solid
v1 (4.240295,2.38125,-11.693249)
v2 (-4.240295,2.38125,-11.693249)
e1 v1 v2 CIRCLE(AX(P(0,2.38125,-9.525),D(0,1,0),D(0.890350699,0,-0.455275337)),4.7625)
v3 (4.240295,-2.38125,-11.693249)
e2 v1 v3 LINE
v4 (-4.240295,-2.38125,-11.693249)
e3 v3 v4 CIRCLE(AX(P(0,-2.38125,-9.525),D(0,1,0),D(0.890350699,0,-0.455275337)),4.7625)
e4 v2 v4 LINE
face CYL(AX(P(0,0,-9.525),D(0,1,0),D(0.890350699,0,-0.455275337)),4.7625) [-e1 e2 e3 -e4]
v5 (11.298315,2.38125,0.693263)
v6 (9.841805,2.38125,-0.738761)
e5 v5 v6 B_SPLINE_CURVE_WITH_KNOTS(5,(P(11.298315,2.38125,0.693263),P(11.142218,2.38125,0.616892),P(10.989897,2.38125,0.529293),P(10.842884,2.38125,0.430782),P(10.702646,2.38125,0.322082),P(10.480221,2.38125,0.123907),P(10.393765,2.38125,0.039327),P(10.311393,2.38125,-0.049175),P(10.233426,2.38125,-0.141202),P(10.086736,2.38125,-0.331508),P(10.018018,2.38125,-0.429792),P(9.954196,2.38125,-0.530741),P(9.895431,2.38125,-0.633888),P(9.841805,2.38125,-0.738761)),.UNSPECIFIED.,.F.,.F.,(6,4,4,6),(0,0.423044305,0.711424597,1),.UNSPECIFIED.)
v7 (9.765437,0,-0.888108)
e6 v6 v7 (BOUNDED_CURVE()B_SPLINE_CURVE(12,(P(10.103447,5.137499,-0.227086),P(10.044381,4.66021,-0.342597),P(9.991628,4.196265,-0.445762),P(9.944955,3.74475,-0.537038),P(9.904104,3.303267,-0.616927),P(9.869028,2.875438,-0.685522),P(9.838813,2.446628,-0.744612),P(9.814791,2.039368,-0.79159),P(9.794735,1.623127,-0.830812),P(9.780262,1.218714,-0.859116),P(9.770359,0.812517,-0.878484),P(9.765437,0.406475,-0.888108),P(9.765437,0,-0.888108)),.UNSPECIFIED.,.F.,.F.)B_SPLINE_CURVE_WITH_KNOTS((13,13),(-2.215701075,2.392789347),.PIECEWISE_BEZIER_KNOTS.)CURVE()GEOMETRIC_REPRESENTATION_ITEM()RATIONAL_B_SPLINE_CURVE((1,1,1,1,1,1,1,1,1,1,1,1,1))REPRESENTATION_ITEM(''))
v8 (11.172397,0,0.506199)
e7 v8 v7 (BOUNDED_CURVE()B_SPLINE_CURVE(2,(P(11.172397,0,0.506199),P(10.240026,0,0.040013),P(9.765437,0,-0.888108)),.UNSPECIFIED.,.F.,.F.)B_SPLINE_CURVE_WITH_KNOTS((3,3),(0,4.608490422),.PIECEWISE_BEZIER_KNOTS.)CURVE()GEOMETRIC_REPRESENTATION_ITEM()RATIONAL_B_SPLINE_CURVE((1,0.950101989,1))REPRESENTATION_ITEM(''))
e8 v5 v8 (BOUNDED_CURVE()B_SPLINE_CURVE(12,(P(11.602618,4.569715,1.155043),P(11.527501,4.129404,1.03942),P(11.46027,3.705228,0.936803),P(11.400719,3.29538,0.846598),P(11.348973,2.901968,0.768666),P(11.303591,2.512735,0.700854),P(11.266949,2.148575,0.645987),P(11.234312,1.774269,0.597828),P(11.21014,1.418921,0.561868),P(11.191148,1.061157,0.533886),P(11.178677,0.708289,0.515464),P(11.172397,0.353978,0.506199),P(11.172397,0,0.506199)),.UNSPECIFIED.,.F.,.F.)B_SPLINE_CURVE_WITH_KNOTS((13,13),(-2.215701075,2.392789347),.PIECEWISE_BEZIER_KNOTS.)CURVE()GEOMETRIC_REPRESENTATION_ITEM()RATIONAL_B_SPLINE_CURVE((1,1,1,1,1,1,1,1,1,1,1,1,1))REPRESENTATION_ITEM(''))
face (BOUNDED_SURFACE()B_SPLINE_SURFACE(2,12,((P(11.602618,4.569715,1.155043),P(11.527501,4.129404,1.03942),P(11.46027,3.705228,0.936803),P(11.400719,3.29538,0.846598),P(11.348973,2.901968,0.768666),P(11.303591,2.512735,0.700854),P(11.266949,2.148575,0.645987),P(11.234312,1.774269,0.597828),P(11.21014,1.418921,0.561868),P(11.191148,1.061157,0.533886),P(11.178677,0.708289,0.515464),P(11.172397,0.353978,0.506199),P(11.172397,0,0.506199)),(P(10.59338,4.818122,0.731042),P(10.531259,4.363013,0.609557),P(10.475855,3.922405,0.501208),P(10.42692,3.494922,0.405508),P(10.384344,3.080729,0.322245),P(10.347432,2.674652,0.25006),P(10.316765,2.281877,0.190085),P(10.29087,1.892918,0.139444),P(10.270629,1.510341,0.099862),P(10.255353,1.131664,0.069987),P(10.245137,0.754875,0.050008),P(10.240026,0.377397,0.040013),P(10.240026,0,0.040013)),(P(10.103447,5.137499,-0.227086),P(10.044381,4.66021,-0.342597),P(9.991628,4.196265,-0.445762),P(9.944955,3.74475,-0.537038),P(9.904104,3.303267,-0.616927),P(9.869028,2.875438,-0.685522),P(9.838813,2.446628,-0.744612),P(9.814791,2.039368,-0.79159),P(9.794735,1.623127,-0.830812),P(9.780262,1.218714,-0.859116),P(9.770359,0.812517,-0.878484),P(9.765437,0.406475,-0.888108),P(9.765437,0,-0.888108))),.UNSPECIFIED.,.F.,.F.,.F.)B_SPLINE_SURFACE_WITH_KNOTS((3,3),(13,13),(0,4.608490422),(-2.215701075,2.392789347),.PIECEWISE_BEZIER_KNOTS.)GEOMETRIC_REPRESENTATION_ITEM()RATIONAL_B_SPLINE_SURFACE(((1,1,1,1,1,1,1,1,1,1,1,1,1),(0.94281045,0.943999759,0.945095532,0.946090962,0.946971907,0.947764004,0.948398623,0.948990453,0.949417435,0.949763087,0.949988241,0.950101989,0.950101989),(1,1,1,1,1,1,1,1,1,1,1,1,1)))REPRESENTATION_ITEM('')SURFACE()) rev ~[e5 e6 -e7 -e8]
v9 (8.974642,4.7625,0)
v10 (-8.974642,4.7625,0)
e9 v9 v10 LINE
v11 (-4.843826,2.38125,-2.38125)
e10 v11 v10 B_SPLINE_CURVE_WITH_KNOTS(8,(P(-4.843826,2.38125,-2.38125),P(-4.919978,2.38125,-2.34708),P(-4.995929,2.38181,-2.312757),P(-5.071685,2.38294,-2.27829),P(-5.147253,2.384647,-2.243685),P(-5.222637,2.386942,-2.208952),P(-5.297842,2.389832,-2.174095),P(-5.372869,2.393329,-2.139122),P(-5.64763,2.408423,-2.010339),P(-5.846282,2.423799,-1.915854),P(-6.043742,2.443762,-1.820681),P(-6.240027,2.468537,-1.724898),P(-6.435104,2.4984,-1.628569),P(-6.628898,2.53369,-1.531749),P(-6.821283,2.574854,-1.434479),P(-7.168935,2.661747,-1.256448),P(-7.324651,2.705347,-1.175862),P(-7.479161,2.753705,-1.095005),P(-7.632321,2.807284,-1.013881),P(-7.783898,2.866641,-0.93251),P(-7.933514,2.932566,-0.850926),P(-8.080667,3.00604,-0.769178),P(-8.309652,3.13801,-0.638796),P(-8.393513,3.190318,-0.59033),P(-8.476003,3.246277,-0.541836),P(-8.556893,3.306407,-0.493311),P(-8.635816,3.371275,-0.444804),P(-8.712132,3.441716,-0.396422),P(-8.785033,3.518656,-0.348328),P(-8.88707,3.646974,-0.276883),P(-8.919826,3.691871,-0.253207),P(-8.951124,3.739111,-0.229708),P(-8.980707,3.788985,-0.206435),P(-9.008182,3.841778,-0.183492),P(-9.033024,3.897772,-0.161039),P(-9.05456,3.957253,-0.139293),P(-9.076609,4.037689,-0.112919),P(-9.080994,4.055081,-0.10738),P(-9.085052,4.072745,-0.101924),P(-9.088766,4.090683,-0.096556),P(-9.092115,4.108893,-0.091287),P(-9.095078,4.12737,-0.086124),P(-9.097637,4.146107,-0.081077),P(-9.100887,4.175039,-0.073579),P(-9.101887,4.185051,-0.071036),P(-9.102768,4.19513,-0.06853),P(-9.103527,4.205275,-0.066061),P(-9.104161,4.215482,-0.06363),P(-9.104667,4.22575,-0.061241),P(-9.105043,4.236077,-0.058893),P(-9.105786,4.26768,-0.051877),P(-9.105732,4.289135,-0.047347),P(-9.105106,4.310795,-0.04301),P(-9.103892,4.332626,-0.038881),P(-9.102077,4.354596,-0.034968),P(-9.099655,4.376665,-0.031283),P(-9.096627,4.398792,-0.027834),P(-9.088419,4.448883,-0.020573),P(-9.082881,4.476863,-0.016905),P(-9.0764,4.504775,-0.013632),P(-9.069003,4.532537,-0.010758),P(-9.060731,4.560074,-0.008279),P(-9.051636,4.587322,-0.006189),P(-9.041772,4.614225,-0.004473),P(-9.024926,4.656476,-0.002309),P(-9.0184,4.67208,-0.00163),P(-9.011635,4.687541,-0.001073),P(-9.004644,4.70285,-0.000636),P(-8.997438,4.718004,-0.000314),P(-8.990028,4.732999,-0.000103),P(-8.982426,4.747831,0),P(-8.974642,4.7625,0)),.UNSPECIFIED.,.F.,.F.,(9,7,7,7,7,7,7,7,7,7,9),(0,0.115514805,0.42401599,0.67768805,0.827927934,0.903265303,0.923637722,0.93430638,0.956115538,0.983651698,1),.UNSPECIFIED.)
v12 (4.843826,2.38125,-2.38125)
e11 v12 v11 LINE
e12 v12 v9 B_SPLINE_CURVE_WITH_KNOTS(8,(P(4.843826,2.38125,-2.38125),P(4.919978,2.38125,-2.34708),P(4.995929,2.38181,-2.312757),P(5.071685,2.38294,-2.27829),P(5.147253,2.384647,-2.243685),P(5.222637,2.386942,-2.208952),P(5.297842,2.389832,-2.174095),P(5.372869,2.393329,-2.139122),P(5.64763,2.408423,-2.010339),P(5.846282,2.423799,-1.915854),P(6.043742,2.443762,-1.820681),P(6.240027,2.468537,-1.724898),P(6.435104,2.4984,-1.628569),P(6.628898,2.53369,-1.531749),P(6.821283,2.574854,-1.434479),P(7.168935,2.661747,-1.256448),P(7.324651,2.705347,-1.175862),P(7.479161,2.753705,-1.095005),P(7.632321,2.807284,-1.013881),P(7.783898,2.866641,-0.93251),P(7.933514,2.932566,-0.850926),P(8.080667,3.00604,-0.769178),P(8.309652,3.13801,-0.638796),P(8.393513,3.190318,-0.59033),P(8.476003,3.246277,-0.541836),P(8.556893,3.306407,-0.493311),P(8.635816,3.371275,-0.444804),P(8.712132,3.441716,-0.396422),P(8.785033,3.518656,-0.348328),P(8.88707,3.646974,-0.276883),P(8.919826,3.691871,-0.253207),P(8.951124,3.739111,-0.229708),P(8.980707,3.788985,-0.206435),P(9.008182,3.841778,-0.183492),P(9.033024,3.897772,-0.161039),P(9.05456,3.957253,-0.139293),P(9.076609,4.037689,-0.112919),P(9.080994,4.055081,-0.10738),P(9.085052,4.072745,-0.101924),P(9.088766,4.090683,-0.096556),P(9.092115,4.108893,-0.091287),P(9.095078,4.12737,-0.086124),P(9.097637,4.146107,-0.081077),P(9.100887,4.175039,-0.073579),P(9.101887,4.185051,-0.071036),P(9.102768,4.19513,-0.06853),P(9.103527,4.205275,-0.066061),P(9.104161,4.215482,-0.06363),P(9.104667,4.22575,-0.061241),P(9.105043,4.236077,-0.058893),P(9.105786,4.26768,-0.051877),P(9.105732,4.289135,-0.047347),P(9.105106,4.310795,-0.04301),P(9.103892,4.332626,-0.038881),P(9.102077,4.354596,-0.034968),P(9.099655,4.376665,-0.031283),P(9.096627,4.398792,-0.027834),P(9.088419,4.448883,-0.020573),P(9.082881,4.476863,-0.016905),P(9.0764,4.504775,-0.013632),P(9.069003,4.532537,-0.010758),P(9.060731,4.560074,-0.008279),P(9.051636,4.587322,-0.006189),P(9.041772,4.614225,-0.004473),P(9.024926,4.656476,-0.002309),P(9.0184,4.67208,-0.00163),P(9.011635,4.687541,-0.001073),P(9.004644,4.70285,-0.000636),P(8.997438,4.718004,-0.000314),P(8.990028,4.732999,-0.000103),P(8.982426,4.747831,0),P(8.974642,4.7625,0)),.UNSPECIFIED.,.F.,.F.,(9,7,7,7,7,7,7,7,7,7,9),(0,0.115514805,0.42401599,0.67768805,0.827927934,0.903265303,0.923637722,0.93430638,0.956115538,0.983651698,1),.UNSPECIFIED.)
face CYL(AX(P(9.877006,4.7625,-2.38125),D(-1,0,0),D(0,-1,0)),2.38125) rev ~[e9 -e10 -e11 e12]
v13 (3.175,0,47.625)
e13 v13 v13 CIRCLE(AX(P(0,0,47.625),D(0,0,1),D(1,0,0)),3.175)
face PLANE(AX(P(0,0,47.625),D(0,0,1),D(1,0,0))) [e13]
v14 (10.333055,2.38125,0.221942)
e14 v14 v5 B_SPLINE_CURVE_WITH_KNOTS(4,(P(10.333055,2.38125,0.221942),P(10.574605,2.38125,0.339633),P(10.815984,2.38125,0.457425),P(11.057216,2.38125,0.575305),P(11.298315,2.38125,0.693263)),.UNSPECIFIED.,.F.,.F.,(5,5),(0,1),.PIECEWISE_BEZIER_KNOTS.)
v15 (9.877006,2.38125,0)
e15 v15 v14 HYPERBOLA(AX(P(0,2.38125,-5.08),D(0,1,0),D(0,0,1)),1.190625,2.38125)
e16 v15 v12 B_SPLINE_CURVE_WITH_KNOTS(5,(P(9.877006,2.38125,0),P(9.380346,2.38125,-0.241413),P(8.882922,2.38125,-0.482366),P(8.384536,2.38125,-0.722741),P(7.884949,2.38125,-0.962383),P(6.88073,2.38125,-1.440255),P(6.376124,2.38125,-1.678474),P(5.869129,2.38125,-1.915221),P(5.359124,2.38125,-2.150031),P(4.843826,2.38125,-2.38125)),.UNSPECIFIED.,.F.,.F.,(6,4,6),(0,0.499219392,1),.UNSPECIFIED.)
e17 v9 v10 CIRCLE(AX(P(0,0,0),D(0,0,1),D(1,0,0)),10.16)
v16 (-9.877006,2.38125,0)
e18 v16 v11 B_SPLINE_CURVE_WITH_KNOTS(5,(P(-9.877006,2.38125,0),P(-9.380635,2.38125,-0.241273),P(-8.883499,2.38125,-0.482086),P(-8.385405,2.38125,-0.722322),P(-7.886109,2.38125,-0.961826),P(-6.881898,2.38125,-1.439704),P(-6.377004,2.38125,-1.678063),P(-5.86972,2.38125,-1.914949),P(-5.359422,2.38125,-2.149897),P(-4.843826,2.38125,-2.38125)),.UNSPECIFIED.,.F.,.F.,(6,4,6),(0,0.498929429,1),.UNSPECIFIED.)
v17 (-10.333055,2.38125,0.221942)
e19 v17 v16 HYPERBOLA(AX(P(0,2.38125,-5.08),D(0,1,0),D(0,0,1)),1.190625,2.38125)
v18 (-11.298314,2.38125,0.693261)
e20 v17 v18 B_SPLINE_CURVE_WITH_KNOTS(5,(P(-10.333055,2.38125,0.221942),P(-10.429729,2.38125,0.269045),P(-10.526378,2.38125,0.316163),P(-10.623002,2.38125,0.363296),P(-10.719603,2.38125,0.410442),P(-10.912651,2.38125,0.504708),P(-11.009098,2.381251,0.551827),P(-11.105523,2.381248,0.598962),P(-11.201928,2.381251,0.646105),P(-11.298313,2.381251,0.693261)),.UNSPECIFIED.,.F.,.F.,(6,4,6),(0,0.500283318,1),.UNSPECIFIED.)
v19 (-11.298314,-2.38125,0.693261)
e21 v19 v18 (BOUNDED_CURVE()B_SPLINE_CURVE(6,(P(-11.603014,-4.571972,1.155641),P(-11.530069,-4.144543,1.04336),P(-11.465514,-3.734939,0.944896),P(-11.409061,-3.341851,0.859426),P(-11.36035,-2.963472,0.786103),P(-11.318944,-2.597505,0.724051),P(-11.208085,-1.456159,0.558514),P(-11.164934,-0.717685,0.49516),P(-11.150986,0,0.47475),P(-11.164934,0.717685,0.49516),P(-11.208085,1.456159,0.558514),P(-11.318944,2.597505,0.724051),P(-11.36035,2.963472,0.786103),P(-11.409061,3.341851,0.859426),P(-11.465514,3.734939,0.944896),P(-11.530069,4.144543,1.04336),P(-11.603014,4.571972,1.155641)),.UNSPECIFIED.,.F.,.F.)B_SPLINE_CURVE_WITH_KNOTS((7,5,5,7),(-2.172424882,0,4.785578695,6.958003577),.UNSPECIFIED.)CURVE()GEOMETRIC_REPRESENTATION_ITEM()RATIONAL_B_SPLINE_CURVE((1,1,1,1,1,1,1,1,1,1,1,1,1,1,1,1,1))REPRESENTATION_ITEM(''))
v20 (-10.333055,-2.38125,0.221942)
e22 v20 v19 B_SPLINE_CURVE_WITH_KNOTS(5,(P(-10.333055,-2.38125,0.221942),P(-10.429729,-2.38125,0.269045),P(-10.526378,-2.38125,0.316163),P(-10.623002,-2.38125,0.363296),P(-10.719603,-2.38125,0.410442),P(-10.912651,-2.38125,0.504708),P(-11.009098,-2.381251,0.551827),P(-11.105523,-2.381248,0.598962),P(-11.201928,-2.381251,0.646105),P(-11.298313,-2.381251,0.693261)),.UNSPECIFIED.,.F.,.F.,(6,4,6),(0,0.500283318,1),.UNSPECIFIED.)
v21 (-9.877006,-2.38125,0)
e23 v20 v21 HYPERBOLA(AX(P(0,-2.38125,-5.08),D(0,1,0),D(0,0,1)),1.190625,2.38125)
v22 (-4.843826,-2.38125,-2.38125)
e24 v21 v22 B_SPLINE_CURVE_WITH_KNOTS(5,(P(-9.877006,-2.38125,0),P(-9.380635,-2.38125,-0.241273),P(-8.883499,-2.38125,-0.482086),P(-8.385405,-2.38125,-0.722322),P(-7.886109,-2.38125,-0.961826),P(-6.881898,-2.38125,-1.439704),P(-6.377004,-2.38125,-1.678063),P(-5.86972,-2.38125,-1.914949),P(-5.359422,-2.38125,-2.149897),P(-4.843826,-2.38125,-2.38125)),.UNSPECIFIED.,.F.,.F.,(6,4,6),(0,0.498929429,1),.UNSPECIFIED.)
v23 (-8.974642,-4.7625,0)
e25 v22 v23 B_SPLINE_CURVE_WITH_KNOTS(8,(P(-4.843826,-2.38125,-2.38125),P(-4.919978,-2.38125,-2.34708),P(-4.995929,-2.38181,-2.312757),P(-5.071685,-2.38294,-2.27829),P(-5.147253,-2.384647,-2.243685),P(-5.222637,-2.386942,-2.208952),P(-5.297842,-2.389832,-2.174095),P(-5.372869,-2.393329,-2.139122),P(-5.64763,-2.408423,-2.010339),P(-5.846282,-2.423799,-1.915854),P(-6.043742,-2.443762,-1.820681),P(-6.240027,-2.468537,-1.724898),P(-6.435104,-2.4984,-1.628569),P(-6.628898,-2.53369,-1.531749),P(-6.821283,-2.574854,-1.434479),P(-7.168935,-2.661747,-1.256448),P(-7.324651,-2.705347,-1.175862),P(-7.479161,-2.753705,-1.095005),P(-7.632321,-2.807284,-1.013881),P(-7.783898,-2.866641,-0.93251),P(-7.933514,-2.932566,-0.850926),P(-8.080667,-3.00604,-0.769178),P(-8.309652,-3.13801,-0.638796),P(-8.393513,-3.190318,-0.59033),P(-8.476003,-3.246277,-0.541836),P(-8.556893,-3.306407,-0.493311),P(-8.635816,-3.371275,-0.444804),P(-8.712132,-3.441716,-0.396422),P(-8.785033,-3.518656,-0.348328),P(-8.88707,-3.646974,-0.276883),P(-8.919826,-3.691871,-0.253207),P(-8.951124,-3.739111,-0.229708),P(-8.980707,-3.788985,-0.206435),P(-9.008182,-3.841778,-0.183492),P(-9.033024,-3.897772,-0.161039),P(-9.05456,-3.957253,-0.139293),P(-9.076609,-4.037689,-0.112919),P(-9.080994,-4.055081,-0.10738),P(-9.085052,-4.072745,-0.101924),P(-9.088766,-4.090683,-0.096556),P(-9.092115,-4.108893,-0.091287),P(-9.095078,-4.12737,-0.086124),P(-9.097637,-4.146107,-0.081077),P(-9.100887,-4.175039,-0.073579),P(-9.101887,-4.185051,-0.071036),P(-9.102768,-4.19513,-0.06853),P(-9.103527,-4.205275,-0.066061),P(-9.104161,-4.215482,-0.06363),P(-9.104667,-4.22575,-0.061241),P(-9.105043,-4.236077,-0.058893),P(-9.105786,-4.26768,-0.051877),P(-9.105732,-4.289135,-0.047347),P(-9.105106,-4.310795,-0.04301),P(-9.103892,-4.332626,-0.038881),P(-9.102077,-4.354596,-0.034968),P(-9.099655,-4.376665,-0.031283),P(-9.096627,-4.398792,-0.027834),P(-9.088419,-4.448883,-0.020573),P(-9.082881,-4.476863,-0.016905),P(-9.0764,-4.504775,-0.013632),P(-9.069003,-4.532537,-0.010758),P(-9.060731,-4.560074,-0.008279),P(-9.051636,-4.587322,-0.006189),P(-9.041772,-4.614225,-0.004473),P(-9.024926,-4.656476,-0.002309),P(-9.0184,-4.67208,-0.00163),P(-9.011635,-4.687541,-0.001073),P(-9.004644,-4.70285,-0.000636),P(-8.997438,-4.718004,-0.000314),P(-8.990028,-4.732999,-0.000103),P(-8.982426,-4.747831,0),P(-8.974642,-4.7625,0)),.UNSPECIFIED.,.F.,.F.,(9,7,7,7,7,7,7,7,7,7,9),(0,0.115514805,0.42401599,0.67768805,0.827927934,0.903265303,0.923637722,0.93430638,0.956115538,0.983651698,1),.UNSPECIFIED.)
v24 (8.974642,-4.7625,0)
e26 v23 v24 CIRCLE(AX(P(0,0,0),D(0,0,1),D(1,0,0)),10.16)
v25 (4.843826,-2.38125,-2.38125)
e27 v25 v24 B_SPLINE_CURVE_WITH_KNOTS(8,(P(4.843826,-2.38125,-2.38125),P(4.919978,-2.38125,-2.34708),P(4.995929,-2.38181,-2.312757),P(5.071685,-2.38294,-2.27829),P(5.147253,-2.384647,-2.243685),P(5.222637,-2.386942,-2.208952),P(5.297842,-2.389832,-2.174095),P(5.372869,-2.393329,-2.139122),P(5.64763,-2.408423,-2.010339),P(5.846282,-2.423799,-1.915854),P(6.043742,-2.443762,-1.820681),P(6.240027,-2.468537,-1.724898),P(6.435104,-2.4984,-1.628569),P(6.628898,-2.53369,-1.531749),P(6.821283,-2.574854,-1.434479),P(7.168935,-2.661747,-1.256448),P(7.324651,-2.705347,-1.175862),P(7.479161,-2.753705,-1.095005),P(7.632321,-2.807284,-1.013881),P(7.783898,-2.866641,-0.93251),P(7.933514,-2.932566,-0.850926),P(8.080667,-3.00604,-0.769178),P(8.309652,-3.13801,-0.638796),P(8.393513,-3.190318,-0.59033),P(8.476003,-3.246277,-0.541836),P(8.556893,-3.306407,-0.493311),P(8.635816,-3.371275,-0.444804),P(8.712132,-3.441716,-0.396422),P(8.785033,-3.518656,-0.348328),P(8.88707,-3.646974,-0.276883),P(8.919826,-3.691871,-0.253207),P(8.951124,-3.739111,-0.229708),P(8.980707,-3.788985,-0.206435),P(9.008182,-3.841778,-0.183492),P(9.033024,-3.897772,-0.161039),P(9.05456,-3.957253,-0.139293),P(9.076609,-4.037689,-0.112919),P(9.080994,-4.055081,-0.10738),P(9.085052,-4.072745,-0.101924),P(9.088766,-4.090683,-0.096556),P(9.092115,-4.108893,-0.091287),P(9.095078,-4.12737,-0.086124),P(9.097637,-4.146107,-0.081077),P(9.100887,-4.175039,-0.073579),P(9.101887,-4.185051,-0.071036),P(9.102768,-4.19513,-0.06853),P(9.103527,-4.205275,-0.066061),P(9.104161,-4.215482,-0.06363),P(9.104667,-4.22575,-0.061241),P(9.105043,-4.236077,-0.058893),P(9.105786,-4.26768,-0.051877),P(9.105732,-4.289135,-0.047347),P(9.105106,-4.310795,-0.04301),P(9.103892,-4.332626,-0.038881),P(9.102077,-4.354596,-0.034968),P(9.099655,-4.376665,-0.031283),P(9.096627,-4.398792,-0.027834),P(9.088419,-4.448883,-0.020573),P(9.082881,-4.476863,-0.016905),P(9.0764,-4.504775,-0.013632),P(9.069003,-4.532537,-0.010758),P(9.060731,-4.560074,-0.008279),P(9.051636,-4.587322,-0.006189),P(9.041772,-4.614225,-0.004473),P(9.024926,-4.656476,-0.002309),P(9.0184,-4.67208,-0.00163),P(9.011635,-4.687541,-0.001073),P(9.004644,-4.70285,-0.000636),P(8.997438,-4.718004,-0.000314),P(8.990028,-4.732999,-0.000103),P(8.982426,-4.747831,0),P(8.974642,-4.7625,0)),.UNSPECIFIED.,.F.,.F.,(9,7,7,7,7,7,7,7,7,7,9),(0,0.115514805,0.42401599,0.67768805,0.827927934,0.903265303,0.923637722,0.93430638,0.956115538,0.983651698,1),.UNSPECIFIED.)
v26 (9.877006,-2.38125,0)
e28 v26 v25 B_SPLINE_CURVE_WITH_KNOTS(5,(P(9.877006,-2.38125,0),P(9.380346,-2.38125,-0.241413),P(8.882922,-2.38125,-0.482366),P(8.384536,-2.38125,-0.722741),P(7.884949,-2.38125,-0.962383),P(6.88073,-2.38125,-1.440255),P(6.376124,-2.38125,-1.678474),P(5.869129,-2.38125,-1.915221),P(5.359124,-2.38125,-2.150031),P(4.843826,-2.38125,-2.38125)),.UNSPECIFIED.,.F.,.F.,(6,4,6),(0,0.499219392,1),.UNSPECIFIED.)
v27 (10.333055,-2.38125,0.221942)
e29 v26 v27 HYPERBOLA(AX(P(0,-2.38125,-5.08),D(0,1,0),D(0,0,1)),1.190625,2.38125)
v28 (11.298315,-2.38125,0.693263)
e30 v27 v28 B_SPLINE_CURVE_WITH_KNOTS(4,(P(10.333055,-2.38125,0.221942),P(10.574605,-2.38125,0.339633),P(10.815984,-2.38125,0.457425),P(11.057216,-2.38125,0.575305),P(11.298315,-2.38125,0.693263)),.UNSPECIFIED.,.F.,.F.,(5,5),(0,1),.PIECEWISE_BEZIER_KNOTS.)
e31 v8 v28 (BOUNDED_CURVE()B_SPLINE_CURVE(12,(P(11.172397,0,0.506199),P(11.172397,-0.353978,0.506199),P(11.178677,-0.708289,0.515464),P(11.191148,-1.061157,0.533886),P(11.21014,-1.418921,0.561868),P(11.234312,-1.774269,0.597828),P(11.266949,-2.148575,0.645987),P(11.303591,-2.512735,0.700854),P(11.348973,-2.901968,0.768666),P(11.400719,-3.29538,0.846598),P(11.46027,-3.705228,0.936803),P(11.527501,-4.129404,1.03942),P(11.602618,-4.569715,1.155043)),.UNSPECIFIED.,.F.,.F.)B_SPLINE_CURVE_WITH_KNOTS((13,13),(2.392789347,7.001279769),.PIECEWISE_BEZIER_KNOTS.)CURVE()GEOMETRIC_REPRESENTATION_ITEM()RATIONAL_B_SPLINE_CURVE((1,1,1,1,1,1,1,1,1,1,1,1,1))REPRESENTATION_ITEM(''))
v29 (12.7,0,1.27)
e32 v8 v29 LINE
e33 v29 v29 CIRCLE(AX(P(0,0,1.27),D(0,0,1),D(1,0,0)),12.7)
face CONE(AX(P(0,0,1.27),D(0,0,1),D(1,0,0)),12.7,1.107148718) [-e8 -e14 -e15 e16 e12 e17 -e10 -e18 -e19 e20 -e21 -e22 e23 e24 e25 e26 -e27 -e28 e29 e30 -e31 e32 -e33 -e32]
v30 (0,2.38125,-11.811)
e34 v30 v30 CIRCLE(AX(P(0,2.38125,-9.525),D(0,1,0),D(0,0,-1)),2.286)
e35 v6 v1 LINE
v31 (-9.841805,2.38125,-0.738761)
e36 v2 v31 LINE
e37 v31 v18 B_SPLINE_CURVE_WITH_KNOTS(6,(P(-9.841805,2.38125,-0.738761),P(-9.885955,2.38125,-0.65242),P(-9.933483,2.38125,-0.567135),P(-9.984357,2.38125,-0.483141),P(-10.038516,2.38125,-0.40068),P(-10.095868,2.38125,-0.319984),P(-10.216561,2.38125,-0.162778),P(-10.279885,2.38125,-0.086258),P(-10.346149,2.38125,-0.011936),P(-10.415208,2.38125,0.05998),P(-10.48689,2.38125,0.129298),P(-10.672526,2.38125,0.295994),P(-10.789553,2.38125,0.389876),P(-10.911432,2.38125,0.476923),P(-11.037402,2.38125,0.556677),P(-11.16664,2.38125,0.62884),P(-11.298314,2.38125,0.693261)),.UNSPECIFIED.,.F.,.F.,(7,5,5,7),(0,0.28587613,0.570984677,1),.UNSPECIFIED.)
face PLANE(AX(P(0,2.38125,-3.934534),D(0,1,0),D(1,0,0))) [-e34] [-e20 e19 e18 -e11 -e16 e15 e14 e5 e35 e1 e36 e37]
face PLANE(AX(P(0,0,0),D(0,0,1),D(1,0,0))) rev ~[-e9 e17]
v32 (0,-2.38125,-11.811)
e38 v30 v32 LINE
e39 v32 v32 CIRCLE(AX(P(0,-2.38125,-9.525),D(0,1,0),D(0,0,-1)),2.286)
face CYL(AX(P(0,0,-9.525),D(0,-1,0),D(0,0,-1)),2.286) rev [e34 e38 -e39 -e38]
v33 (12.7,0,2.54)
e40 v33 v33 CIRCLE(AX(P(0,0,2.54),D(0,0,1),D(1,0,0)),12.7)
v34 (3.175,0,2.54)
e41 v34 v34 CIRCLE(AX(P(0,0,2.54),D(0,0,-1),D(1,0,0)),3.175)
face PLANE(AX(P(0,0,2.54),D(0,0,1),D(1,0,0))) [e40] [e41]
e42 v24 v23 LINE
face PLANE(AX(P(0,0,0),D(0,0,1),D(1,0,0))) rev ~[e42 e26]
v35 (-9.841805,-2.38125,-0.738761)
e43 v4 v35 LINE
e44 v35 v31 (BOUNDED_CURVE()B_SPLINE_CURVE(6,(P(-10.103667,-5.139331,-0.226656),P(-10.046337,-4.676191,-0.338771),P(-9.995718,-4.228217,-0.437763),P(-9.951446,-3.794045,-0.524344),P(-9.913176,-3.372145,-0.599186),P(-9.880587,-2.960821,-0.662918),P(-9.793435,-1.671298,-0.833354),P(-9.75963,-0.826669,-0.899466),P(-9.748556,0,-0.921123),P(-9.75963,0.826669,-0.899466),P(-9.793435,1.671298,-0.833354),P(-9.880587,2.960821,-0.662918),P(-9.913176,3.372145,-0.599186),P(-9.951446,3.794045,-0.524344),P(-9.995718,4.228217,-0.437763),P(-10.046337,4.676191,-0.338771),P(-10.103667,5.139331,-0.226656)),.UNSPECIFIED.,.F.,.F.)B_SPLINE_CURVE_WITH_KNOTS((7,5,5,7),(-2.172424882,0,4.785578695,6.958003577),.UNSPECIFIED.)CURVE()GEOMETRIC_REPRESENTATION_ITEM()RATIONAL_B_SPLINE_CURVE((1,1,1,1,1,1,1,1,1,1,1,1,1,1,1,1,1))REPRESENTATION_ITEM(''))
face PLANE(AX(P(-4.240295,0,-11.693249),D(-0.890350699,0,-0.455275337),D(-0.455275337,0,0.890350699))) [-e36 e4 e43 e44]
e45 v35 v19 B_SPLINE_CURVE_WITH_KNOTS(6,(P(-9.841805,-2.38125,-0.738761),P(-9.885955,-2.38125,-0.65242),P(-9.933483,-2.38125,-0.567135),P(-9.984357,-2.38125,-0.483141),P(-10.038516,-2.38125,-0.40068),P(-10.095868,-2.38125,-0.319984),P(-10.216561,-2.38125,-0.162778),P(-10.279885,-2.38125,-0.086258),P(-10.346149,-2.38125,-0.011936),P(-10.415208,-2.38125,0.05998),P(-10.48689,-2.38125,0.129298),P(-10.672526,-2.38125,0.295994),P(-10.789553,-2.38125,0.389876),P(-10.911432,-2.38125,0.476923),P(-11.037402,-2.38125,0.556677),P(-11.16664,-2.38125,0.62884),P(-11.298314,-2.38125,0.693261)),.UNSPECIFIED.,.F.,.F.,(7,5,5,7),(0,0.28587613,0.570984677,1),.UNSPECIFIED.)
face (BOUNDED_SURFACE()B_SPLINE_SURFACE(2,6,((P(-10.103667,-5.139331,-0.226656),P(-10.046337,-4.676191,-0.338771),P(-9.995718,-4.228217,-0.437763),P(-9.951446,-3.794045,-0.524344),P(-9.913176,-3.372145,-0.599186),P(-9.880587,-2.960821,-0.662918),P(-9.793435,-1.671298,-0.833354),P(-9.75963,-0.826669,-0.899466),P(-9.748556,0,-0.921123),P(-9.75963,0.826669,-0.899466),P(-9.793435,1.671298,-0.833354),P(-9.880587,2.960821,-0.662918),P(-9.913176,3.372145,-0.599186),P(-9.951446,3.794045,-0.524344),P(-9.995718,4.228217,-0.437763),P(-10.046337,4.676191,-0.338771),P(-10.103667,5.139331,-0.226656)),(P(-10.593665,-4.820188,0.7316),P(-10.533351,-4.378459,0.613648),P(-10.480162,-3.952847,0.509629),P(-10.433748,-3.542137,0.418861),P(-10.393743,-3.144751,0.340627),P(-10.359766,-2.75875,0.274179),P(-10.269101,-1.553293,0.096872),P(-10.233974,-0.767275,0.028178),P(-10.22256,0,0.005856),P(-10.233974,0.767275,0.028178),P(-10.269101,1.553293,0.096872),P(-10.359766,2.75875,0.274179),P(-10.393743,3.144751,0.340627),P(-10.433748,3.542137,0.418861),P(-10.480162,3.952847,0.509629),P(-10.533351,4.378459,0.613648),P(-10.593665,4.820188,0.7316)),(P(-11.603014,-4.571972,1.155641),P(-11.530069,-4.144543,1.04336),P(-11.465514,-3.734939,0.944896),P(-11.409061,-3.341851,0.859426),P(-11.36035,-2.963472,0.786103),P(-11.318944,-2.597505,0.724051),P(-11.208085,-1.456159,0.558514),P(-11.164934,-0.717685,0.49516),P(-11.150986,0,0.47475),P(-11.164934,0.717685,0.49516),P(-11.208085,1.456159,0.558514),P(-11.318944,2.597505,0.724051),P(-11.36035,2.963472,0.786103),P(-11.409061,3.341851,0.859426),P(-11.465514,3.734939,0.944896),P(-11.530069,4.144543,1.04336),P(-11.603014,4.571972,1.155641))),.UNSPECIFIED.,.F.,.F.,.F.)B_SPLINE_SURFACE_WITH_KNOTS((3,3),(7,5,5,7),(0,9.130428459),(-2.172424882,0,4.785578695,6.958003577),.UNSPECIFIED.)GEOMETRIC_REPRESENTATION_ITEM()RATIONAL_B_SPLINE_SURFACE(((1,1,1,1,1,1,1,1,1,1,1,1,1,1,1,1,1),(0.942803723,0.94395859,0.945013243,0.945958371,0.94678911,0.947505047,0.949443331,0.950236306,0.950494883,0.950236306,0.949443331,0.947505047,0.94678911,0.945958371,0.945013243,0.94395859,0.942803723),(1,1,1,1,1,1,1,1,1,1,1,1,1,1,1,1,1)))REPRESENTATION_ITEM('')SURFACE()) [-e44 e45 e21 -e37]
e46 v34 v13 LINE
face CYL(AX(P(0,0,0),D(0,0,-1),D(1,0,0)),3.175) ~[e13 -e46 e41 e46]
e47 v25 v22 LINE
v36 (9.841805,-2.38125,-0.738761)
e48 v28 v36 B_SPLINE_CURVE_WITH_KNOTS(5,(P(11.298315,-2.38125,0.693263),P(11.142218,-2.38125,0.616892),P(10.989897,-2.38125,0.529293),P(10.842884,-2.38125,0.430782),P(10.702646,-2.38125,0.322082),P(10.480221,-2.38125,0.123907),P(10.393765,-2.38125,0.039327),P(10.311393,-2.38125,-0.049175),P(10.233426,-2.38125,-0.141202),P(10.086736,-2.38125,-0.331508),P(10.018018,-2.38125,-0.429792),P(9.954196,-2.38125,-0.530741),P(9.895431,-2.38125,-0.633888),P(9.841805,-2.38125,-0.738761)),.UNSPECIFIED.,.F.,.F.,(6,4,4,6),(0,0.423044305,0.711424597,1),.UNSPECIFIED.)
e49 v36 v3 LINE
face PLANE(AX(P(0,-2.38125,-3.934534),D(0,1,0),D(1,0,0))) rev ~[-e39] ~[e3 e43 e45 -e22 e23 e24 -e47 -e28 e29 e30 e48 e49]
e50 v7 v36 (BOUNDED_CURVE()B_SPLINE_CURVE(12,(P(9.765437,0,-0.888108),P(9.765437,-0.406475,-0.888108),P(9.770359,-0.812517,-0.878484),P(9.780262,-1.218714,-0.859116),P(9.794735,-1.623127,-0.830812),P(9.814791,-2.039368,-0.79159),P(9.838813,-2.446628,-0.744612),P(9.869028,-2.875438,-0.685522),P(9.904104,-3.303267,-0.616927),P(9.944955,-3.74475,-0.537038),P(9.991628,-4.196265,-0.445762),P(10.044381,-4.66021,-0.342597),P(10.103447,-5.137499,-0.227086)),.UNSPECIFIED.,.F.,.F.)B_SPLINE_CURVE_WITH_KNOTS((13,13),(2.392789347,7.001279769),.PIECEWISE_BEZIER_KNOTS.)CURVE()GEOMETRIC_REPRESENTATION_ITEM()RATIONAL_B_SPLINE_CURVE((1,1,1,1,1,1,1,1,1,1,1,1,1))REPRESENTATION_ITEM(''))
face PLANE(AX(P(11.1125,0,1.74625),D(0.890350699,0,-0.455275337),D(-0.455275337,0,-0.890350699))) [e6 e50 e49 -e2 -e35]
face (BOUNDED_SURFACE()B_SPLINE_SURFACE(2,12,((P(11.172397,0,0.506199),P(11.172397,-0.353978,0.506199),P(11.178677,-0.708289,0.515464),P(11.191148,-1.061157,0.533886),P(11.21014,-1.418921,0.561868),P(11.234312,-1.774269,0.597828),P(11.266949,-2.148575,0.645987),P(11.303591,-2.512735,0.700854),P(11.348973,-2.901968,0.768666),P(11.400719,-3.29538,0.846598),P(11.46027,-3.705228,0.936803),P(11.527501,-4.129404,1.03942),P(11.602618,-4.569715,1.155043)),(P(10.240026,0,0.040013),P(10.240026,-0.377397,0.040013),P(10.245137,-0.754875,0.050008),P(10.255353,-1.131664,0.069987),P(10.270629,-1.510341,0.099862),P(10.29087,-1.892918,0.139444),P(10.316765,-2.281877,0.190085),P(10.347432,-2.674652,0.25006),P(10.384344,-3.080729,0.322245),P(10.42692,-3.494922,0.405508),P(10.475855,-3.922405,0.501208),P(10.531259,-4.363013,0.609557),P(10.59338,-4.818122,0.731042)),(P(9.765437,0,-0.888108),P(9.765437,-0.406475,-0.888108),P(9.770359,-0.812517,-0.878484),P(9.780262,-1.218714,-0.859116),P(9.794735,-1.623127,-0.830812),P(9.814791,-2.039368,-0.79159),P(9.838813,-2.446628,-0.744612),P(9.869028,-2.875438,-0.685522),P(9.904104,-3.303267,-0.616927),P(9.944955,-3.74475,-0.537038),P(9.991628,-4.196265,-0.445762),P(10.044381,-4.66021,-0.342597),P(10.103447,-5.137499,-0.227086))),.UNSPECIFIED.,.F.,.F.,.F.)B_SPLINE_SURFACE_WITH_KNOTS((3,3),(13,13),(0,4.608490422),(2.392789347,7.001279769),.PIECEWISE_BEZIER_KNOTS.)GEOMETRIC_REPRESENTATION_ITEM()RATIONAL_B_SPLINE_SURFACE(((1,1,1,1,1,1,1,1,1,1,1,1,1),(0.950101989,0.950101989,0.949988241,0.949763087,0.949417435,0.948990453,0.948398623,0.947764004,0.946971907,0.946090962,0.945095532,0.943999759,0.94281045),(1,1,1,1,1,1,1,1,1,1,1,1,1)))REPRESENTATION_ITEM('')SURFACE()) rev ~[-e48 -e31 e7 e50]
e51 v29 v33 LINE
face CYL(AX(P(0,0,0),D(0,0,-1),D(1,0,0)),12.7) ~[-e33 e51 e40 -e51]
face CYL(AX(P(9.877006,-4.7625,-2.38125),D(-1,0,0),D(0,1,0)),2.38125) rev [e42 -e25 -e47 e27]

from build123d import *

# Parameters (mm, degrees)
SKETCH1_R           = 12.7
SKETCH1_R_2         = 11.1125
SKETCH1_R_3         = 3.175
BOSS_EXTRUDE1_DEPTH = 2.54
SKETCH1_3_R         = 3.175
BOSS_EXTRUDE2_DEPTH = 47.625
CHAMFER1_SIZE       = 2.54
CHAMFER1_SIZE2      = 1.27
SKETCH2_R           = 2.286
BOSS_EXTRUDE3_DEPTH = 2.38125
FILLET1_R           = 3.175
FILLET2_R           = 2.38125


with BuildPart() as part:
    # Sketch1 → Boss-Extrude1 (new body)
    # profile 1 of 3: a face of its own
    with BuildSketch(Plane.XY):
        Circle(SKETCH1_R)
        Circle(SKETCH1_R_2, mode=Mode.SUBTRACT)
    # profile 2 of 3: a face of its own
    with BuildSketch(Plane.XY):
        Circle(SKETCH1_R_2)
        Circle(SKETCH1_R_3, mode=Mode.SUBTRACT)
    # profile 3 of 3: a face of its own
    with BuildSketch(Plane.XY):
        Circle(SKETCH1_R_3)
    extrude(amount=BOSS_EXTRUDE1_DEPTH)

    # Sketch1<3> → Boss-Extrude2 (add)
    with BuildSketch(Plane.XY):
        Circle(SKETCH1_3_R)
    extrude(amount=BOSS_EXTRUDE2_DEPTH)

    # Chamfer1
    chamfer1_edges = [part.edges().sort_by_distance(p)[0] for p in [
        (-12.7, 0, 0),
    ]]
    chamfer1_side = [part.faces().sort_by_distance(p)[0] for p in [
        (0, 0, 0),
    ]]
    chamfer(chamfer1_edges, length=CHAMFER1_SIZE, length2=CHAMFER1_SIZE2, reference=chamfer1_side[0])

    # Sketch2 → Boss-Extrude3 (add, symmetric)
    with BuildSketch(Plane(origin=(0, 0, 0), x_dir=(1, 0, 0), z_dir=(0, 1, 0))):
        with BuildLine():
            Line((-4.240295204, 11.693248793), (-11.1125, -1.74625))
            Line((-11.1125, -1.74625), (11.1125, -1.74625))
            Line((11.1125, -1.74625), (4.240295204, 11.693248793))
            ThreePointArc((4.240295204, 11.693248793), (0, 14.2875), (-4.240295204, 11.693248793))
        make_face()
        with Locations(Location((0, 9.525, 0), (0, 0, 90))):
            Circle(SKETCH2_R, mode=Mode.SUBTRACT)
    extrude(amount=BOSS_EXTRUDE3_DEPTH, both=True)

    # Fillet1
    fillet1_edges = [part.edges().sort_by_distance(p)[0] for p in [
        (10.263836295, -1.194873852, 0.086576696),
        (-10.240026318, 0, 0.040013159),
        (10.263836295, 1.194873852, 0.086576696),
    ]]
    fillet(fillet1_edges, radius=FILLET1_R)

    # Fillet2
    fillet2_edges = [part.edges().sort_by_distance(p)[0] for p in [
        (0, 2.38125, 0),
        (0, -2.38125, 0),
    ]]
    fillet(fillet2_edges, radius=FILLET2_R)


solid = part.part
